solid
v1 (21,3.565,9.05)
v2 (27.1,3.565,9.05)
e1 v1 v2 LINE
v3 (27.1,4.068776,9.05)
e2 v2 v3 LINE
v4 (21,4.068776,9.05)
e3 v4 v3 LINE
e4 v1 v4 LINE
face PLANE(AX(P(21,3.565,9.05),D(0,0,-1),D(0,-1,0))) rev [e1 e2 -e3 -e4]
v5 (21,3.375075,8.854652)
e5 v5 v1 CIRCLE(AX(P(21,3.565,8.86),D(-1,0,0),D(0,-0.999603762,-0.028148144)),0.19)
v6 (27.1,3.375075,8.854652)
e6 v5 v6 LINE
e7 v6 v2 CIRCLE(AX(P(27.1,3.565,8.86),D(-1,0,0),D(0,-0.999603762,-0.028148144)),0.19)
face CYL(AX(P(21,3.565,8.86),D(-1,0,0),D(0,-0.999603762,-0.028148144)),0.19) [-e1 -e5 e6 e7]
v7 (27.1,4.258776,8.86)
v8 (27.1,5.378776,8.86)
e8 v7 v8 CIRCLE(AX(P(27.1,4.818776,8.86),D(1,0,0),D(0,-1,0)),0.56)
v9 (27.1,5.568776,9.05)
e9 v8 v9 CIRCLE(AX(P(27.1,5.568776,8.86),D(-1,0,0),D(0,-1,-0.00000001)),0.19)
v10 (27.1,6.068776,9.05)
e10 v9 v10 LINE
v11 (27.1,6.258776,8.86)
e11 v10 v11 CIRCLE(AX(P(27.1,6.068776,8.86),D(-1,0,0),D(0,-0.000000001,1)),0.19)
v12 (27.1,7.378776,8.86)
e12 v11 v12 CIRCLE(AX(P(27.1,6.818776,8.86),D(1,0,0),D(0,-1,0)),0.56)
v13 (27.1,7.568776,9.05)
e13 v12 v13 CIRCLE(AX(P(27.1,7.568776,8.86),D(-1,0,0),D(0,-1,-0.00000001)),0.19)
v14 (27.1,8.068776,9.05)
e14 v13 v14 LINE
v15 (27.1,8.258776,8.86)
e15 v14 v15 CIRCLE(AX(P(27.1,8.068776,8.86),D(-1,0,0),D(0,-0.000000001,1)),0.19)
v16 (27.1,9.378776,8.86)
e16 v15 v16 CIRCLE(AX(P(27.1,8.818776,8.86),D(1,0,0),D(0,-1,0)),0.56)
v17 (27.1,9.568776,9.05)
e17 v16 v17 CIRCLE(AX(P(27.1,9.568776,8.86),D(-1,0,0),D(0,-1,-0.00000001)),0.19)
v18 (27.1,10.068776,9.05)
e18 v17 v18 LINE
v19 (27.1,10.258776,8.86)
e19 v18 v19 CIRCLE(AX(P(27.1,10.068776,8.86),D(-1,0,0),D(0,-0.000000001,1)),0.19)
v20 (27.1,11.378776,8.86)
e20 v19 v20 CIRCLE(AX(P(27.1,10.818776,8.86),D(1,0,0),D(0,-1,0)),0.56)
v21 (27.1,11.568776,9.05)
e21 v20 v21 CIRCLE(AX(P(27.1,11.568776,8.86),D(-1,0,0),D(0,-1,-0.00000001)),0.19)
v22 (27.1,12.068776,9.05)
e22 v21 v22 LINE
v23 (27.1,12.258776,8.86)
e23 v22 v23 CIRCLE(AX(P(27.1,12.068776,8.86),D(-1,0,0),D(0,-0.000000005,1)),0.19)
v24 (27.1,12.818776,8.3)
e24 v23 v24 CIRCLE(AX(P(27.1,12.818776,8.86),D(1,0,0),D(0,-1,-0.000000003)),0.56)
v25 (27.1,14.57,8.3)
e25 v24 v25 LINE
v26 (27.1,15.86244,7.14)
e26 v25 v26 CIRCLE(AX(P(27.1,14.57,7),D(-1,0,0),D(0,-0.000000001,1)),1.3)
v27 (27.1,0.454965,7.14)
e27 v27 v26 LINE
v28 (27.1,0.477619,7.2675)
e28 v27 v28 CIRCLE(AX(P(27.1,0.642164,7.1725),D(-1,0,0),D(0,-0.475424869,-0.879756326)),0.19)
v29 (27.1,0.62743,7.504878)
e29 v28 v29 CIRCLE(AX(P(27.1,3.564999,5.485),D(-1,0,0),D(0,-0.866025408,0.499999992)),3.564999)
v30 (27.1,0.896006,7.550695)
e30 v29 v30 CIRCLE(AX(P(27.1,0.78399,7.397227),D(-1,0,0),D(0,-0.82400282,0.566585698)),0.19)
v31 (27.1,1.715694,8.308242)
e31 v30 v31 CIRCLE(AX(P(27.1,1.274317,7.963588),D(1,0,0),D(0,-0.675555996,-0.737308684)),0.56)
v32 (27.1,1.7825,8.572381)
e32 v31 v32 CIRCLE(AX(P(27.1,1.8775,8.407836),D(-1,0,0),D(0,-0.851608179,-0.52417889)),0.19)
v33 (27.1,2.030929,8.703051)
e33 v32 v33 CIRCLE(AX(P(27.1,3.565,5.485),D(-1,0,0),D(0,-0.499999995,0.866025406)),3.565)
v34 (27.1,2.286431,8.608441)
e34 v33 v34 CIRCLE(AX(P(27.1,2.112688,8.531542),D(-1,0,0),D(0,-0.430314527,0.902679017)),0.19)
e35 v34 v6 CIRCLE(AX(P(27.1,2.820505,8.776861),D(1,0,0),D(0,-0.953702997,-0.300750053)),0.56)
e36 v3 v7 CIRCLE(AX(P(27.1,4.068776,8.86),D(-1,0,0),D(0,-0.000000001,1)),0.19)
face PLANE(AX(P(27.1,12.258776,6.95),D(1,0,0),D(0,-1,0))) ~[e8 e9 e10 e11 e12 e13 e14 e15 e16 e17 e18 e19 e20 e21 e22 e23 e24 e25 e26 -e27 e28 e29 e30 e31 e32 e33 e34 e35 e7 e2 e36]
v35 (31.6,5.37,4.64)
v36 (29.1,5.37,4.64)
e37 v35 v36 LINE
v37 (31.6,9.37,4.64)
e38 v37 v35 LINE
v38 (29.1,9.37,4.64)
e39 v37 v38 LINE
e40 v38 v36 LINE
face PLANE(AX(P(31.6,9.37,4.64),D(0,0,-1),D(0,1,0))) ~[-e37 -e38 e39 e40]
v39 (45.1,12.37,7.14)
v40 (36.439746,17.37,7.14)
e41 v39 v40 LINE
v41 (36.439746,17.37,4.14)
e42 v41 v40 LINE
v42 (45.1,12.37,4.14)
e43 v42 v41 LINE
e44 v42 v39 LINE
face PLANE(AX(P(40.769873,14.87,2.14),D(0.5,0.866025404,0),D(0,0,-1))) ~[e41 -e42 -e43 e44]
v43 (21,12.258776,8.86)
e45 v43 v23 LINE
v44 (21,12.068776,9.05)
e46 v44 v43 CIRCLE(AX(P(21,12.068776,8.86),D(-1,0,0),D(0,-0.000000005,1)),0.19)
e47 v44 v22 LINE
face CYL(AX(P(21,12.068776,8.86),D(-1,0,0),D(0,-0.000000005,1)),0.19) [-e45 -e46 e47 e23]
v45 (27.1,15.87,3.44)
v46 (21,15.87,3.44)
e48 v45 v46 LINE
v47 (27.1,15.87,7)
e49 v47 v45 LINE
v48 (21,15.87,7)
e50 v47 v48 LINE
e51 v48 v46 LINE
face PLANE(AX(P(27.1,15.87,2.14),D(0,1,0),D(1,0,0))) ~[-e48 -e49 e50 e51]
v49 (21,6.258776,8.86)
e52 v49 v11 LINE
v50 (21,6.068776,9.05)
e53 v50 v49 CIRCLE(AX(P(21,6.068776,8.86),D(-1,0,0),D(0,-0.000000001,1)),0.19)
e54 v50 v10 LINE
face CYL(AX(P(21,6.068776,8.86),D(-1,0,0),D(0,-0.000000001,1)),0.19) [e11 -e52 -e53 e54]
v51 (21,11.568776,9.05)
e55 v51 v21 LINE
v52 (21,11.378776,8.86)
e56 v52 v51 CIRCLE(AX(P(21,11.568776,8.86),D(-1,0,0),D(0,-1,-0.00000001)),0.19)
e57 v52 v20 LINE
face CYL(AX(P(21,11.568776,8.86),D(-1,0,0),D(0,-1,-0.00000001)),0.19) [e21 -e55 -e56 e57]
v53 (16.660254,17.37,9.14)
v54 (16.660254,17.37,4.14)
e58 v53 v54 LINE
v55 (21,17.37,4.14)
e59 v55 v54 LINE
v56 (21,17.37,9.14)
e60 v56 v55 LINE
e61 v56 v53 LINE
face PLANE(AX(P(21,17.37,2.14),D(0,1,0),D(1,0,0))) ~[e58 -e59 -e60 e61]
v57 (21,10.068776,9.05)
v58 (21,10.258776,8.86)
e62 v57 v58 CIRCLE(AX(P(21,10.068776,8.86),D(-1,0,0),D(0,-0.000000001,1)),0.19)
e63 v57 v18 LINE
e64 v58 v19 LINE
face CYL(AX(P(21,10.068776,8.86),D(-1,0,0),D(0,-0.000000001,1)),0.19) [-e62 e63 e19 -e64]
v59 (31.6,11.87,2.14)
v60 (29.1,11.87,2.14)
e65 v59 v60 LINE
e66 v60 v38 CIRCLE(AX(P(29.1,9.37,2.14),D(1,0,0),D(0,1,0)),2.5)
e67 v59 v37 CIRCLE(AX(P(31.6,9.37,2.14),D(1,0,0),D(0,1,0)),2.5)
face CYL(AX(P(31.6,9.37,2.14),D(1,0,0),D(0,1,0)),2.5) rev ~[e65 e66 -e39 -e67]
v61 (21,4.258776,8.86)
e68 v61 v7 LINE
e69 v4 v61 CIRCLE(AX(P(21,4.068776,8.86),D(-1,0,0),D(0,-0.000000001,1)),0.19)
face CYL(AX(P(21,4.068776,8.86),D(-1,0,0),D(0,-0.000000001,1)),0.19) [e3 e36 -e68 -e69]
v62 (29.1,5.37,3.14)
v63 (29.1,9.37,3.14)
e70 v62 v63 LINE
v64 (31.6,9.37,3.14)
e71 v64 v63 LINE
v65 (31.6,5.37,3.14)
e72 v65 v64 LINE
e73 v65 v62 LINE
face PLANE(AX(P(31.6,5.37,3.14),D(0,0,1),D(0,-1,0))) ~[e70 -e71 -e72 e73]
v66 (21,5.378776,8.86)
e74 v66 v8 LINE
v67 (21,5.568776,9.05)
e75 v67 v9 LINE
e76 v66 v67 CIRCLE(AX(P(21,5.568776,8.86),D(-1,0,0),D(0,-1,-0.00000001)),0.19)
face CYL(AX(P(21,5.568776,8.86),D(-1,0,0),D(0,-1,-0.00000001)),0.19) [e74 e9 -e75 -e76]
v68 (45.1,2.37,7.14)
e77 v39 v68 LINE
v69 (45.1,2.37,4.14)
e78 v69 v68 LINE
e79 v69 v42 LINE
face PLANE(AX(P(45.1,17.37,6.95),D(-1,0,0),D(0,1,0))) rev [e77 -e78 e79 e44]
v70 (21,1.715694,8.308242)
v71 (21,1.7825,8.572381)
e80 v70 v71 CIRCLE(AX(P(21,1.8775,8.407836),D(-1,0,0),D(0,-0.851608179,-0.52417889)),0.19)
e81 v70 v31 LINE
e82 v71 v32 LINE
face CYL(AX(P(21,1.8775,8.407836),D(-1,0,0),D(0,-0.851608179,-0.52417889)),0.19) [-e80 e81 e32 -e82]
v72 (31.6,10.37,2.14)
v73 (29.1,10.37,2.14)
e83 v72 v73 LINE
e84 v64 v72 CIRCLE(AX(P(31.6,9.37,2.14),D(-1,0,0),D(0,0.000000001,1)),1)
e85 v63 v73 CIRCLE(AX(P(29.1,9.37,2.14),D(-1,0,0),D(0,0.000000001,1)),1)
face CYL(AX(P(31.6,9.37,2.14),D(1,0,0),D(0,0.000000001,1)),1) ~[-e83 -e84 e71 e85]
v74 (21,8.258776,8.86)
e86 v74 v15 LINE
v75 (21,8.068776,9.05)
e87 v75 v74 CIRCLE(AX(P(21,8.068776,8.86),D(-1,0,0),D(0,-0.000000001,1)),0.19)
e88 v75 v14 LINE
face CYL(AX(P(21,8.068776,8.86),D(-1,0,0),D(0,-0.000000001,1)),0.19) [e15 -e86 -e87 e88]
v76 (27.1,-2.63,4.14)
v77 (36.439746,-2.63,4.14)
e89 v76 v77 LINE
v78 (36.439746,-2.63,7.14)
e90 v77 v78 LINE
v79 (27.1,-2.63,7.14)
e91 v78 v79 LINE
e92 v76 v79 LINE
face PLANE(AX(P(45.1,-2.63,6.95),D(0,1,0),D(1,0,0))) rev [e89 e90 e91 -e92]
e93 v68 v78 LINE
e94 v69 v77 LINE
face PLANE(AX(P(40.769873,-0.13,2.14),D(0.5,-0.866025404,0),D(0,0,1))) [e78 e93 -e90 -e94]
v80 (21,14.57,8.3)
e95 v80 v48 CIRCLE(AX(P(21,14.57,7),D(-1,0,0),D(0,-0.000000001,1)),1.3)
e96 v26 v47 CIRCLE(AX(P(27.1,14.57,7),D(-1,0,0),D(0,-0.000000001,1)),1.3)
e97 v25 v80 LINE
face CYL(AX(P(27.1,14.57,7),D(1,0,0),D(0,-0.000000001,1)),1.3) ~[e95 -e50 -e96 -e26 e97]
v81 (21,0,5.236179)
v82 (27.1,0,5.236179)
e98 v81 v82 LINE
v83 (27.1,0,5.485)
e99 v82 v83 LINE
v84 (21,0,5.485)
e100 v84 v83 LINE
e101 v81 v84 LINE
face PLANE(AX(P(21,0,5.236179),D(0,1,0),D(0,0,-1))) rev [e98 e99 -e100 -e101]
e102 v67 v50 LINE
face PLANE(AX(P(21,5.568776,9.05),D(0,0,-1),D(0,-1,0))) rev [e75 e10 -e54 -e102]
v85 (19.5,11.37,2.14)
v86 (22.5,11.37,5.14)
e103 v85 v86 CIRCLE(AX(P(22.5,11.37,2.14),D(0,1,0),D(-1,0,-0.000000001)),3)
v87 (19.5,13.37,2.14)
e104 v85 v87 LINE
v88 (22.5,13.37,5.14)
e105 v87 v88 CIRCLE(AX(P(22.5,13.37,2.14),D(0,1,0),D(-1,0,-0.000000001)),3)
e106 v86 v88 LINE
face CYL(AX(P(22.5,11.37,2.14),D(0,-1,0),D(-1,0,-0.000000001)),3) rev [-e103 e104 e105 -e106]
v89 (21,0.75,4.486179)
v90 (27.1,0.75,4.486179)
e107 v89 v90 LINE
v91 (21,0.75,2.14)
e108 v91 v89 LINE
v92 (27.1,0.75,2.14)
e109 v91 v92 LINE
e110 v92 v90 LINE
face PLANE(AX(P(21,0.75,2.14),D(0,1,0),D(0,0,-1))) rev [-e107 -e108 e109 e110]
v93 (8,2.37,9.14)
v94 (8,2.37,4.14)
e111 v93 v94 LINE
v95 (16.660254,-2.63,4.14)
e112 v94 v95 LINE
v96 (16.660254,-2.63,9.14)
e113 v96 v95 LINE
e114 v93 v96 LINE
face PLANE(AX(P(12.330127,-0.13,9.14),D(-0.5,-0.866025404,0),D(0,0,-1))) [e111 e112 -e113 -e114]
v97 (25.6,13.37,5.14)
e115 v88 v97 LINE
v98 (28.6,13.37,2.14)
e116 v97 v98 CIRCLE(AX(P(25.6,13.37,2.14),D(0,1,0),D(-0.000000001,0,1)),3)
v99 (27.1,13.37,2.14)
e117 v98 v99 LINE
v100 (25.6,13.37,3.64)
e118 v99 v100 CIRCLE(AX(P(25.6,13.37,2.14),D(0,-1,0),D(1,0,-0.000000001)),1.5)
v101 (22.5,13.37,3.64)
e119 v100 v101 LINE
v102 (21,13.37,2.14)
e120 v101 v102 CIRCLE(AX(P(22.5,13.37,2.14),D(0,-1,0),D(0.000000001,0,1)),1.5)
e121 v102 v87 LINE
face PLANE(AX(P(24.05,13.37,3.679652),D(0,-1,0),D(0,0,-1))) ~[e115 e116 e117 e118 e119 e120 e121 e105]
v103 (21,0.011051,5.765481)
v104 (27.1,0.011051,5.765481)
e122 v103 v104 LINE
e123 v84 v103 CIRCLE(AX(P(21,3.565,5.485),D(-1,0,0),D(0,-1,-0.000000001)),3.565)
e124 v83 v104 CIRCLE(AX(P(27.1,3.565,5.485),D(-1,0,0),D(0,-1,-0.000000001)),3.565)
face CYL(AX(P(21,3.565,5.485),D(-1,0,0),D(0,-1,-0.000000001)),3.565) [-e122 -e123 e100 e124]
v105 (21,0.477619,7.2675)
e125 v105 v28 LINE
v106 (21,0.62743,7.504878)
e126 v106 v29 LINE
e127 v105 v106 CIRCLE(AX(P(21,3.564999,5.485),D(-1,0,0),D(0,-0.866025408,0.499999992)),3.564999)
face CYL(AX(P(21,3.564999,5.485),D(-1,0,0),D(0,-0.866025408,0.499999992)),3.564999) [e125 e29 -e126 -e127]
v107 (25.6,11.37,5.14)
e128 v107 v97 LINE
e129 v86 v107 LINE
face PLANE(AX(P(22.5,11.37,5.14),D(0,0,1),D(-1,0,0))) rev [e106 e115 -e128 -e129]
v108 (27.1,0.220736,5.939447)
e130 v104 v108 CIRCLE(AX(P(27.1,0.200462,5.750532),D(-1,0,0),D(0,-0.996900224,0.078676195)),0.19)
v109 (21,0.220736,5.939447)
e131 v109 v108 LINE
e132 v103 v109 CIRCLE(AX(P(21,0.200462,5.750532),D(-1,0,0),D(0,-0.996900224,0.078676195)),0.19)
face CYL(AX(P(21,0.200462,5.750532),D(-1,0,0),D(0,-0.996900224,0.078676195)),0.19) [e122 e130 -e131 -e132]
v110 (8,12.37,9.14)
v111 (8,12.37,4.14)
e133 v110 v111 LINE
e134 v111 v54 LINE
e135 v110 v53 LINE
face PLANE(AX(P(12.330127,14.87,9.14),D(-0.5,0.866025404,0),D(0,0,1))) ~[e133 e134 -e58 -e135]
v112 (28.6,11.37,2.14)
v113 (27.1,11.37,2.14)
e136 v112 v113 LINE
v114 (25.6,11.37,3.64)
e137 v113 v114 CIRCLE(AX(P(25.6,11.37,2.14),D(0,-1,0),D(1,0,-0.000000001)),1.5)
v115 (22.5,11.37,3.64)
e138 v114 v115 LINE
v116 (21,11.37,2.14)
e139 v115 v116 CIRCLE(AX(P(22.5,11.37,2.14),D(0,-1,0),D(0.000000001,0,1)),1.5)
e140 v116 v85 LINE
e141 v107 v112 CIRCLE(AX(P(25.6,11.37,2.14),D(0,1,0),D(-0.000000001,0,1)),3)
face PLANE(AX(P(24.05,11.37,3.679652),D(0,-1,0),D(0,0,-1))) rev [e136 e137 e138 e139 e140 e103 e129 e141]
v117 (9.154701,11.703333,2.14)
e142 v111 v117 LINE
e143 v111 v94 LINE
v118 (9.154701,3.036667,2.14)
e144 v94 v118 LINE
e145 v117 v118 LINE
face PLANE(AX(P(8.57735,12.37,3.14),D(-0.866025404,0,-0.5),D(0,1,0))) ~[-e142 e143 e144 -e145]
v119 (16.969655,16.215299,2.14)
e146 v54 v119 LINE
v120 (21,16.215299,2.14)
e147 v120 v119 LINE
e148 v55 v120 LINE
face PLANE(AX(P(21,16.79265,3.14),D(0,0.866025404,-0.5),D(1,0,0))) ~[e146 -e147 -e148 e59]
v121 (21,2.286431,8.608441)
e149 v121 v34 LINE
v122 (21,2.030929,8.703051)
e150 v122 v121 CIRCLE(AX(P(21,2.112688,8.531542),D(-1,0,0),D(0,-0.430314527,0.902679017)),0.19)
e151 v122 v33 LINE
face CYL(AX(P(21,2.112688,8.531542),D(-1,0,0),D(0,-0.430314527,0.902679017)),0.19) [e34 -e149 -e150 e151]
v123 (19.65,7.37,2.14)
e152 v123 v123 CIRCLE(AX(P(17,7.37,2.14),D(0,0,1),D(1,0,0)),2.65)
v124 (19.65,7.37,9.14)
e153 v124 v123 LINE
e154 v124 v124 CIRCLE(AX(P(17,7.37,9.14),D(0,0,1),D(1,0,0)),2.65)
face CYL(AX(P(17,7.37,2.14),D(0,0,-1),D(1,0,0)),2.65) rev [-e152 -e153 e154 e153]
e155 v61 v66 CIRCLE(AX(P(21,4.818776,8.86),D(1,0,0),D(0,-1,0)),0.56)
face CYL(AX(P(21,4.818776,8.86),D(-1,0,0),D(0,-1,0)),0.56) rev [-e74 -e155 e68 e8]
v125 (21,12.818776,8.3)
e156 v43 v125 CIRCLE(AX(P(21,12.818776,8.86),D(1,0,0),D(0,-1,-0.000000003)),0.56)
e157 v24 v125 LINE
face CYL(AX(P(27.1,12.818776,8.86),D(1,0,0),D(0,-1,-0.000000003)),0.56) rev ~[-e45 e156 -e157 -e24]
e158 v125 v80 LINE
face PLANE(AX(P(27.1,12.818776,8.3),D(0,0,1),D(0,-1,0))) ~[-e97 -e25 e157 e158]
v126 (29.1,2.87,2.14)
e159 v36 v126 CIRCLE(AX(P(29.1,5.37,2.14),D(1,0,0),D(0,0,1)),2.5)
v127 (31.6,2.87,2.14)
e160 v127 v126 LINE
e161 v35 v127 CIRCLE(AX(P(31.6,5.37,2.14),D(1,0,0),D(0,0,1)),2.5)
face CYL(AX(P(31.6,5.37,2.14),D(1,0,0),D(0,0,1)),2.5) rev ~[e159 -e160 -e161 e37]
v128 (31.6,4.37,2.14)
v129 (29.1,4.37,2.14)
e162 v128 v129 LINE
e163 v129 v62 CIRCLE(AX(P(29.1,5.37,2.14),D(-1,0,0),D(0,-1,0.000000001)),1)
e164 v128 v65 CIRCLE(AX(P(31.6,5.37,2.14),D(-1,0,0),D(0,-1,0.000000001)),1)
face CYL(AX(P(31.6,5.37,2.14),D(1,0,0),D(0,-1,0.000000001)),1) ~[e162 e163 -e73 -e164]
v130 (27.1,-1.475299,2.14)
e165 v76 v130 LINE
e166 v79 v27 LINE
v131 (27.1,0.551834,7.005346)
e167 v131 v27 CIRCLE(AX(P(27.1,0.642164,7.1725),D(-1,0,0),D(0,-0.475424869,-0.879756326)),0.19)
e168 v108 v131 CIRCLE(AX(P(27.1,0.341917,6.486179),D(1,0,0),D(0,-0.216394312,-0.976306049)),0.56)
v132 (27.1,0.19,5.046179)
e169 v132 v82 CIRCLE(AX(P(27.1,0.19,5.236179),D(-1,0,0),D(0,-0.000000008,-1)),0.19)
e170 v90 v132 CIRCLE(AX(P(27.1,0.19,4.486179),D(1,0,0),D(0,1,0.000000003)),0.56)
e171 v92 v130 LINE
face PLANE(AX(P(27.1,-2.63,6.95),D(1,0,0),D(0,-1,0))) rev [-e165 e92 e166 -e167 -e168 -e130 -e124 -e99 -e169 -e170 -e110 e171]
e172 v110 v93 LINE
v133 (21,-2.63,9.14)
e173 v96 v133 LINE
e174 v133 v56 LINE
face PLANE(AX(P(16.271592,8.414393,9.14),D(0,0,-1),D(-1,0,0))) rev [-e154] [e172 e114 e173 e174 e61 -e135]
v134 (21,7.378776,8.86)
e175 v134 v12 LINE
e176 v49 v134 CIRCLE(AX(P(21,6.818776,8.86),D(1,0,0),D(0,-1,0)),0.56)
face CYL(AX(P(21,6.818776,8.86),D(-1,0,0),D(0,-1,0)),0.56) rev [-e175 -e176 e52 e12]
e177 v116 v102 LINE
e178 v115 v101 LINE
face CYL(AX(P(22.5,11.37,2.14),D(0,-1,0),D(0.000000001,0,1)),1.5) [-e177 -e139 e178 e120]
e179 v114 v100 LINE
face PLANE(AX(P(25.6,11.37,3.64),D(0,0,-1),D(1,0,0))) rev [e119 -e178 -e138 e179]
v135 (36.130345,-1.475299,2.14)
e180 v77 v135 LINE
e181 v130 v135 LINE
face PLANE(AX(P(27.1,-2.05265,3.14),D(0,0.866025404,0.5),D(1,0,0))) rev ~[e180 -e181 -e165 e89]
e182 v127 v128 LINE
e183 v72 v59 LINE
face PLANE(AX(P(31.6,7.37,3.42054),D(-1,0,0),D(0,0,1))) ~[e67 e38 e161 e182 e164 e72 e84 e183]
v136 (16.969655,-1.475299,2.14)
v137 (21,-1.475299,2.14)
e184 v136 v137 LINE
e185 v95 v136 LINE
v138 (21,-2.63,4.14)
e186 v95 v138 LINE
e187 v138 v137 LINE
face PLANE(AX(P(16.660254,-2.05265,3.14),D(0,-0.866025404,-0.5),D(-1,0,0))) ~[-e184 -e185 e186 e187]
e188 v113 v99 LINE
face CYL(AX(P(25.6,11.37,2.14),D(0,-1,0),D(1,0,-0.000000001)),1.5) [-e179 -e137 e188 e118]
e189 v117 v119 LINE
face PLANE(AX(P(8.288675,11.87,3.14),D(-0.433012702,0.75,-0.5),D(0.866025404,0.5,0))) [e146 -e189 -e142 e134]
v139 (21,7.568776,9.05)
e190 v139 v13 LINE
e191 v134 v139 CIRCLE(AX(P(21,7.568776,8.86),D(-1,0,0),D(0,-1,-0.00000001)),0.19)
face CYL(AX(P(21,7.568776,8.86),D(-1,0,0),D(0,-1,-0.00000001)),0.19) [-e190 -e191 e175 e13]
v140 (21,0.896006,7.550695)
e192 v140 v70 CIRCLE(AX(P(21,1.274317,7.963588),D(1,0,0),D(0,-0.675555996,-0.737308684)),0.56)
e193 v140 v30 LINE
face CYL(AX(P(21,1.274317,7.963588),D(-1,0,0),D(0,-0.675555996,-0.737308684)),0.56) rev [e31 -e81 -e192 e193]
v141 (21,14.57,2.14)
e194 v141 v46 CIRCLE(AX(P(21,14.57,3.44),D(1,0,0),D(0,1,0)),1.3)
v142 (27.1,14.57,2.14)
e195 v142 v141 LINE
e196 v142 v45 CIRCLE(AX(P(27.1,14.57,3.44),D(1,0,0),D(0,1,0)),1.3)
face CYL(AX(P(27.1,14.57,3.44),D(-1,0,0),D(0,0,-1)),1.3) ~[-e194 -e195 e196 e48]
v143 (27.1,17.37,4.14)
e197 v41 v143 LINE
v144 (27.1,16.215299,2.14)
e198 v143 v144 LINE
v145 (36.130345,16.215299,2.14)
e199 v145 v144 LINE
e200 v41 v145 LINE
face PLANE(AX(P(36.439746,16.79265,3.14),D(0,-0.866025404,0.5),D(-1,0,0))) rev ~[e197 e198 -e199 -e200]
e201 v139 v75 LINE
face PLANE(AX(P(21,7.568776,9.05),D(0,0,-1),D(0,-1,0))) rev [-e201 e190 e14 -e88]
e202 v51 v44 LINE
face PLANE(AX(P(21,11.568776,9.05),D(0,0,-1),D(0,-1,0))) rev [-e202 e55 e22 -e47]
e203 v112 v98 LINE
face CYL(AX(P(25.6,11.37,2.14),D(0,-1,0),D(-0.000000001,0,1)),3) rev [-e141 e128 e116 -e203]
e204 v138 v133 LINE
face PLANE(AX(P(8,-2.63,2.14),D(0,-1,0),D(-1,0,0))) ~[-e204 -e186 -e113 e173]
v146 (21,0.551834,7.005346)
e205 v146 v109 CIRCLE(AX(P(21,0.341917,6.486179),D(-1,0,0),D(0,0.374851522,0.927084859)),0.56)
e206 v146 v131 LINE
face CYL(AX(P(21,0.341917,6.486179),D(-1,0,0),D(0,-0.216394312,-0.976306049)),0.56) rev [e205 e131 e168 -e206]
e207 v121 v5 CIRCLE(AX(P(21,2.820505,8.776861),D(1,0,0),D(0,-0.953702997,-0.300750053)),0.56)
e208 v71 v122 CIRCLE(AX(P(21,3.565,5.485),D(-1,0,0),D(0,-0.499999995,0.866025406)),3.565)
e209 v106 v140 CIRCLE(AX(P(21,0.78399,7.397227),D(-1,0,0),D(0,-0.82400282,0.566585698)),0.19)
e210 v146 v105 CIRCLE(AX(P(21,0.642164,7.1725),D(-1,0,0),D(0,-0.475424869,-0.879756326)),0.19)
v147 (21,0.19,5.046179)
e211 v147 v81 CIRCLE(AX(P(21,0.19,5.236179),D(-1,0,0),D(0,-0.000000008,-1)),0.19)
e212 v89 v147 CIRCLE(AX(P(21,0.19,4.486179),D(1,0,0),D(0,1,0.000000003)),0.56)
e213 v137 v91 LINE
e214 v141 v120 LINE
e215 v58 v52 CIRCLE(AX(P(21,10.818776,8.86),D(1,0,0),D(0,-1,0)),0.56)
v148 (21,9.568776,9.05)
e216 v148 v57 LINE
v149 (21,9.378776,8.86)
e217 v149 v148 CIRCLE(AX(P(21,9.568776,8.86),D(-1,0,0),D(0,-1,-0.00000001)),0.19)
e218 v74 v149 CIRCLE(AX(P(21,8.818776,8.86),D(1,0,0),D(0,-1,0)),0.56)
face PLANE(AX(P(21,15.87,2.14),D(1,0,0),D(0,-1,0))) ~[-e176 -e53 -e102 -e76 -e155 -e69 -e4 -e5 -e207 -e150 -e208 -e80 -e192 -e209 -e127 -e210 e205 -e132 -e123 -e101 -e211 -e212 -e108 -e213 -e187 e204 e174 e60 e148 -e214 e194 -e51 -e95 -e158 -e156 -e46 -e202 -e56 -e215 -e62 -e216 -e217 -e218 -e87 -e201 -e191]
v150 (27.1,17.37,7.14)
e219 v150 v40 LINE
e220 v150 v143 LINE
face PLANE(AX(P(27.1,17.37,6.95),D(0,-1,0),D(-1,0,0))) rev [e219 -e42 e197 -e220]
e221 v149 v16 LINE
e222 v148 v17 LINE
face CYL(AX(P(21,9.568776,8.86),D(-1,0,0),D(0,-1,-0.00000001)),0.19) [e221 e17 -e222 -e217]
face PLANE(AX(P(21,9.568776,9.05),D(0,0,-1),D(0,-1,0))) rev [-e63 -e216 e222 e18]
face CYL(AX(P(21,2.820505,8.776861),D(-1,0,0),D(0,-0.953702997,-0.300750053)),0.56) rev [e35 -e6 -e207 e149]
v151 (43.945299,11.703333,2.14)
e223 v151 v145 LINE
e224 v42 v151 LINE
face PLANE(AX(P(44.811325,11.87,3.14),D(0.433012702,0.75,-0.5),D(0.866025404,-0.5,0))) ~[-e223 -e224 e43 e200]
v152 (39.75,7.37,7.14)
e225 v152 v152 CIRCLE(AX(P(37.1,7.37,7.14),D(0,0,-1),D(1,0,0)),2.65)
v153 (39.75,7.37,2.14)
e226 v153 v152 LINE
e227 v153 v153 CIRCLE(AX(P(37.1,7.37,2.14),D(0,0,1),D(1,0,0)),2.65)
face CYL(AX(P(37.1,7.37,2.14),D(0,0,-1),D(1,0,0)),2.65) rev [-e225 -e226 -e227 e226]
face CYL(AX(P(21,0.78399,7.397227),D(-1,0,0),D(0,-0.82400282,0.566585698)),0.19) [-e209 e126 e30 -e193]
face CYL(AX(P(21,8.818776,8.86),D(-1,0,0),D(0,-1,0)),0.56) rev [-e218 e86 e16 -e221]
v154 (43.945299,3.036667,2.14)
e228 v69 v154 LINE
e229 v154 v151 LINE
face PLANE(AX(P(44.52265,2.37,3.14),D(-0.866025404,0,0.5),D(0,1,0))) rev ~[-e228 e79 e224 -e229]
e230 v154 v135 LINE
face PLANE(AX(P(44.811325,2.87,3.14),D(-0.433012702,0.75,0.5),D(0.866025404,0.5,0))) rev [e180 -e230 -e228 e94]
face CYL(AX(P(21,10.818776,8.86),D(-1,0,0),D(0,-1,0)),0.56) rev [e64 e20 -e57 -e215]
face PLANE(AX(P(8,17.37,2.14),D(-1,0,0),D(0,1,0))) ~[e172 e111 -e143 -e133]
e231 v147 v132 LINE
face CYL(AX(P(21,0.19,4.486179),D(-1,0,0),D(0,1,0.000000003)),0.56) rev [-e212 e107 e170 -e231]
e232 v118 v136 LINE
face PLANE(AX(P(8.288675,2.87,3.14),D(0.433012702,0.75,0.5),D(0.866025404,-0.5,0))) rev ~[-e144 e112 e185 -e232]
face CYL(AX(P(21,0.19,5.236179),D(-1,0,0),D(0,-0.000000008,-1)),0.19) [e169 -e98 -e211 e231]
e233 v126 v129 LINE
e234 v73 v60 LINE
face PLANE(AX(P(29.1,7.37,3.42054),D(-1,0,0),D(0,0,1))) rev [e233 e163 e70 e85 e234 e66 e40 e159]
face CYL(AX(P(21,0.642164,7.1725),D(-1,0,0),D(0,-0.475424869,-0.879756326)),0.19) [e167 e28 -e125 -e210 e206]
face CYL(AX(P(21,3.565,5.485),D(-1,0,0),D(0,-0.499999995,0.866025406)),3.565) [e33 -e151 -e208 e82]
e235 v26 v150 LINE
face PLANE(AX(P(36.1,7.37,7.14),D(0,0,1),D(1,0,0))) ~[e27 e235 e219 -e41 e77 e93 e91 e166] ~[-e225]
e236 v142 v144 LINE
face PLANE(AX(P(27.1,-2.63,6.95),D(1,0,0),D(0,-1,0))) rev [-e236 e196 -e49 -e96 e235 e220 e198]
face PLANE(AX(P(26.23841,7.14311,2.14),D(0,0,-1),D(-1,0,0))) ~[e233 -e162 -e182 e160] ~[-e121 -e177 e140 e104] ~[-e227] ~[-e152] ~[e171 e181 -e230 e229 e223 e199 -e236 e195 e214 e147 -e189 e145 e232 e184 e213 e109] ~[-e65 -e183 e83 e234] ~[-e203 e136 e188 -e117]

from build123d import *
from OCP.BRepFilletAPI import BRepFilletAPI_MakeChamfer

# Parameters (mm, degrees)
AUFSATZ_LINEAR_AUSTRAGEN1_DEPTH    = 6.1
SKIZZE1_W                          = 6
SKIZZE1_H                          = 15
AUFSATZ_LINEAR_AUSTRAGEN1_2_DEPTH  = 6.1
SKIZZE2_W                          = 6
SKIZZE2_H                          = 15
SCHNITT_LINEAR_AUSTRAGEN1_DEPTH    = 6.1
SKIZZE3_R                          = 2.65
AUFSATZ_LINEAR_AUSTRAGEN2_DEPTH    = 2.19
SCHNITT_LINEAR_AUSTRAGEN7_DEPTH    = 6.1
AUFSATZ_LINEAR_START               = 4.81
SKIZZE4_R                          = 2.65
AUFSATZ_LINEAR_AUSTRAGEN3_DEPTH    = 4.81
SKIZZE5_R                          = 2.65
AUFSATZ_LINEAR_AUSTRAGEN4_DEPTH    = 0.19
FASE1_SIZE                         = 5
FASE1_SIZE2                        = 8.660254038
FASE2_SIZE                         = 2
FASE2_SIZE2                        = 1.154700538
SCHNITT_LINEAR_START               = -14
SCHNITT_LINEAR_AUSTRAGEN8_DEPTH    = 2
SCHNITT_LINEAR_START_2             = -13.5
SCHNITT_LINEAR_AUSTRAGEN5_DEPTH    = 2.5
VERRUNDUNG1_R                      = 1.3
K_RPER_VERSCHIEBEN_KOPIEREN1_ANGLE = 90


with BuildPart() as part:
    # Skizze1 → Aufsatz-Linear austragen1 (new body)
    with BuildSketch(Plane.XY):
        with BuildLine():
            Line((-7.050000002, 7.568775844), (-7.050000002, 8.068775844))
            ThreePointArc((-7.050000002, 8.068775844), (-7.105649713, 8.203126132), (-7.240000002, 8.258775844))
            ThreePointArc((-7.240000002, 8.258775844), (-7.800000002, 8.818775844), (-7.240000002, 9.378775844))
            ThreePointArc((-7.240000002, 9.378775844), (-7.105649713, 9.434425555), (-7.050000002, 9.568775844))
            Line((-7.050000002, 9.568775844), (-7.050000002, 10.068775844))
            ThreePointArc((-7.050000002, 10.068775844), (-7.105649713, 10.203126132), (-7.240000002, 10.258775844))
            ThreePointArc((-7.240000002, 10.258775844), (-7.800000002, 10.818775844), (-7.240000002, 11.378775844))
            ThreePointArc((-7.240000002, 11.378775844), (-7.105649713, 11.434425555), (-7.050000002, 11.568775844))
            Line((-7.050000002, 11.568775844), (-7.050000002, 12.068775844))
            ThreePointArc((-7.050000002, 12.068775844), (-7.105649713, 12.203126132), (-7.240000002, 12.258775843))
            Line((-7.240000002, 12.258775843), (-9.150000002, 12.258775843))
            Line((-9.150000002, 12.258775843), (-9.150000002, 4))
            Line((-9.150000002, 4), (-10.615000002, 4))
            Line((-10.615000002, 4), (-13.960000002, 4))
            Line((-13.960000002, 4), (-13.960000002, 0.75))
            Line((-13.960000002, 0.75), (-11.613821225, 0.75))
            ThreePointArc((-11.613821225, 0.75), (-11.217841428, 0.585979797), (-11.053821225, 0.19))
            ThreePointArc((-11.053821225, 0.19), (-10.998171513, 0.055649712), (-10.863821225, 0))
            Line((-10.863821225, 0), (-10.615000002, 0))
            ThreePointArc((-10.615000002, 0), (-10.474650873, 0.002763747), (-10.334519354, 0.011050703))
            ThreePointArc((-10.334519354, 0.011050703), (-10.203241743, 0.079144265), (-10.160552613, 0.22073587))
            ThreePointArc((-10.160552613, 0.22073587), (-9.779942741, 0.876709768), (-9.094653704, 0.551833537))
            ThreePointArc((-9.094653704, 0.551833537), (-8.979253962, 0.459348706), (-8.832500002, 0.477619436))
            ThreePointArc((-8.832500002, 0.477619436), (-8.712335964, 0.550187475), (-8.595121987, 0.627429949))
            ThreePointArc((-8.595121987, 0.627429949), (-8.515479022, 0.752039509), (-8.549304953, 0.896006001))
            ThreePointArc((-8.549304953, 0.896006001), (-8.547674084, 1.654400997), (-7.791758254, 1.715694446))
            ThreePointArc((-7.791758254, 1.715694446), (-7.64557673, 1.693300104), (-7.527619437, 1.7825))
            ThreePointArc((-7.527619437, 1.7825), (-7.459838348, 1.905427785), (-7.396949303, 2.030928718))
            ThreePointArc((-7.396949303, 2.030928718), (-7.390281252, 2.178665245), (-7.491558614, 2.286430919))
            ThreePointArc((-7.491558614, 2.286430919), (-7.869343738, 2.944035686), (-7.24534815, 3.375075285))
            ThreePointArc((-7.24534815, 3.375075285), (-7.107554066, 3.428771978), (-7.050000002, 3.565))
            Line((-7.050000002, 3.565), (-7.050000002, 4.068775844))
            ThreePointArc((-7.050000002, 4.068775844), (-7.105649713, 4.203126132), (-7.240000002, 4.258775844))
            ThreePointArc((-7.240000002, 4.258775844), (-7.800000002, 4.818775844), (-7.240000002, 5.378775844))
            ThreePointArc((-7.240000002, 5.378775844), (-7.105649713, 5.434425555), (-7.050000002, 5.568775844))
            Line((-7.050000002, 5.568775844), (-7.050000002, 6.068775844))
            ThreePointArc((-7.050000002, 6.068775844), (-7.105649713, 6.203126132), (-7.240000002, 6.258775844))
            ThreePointArc((-7.240000002, 6.258775844), (-7.800000002, 6.818775844), (-7.240000002, 7.378775844))
            ThreePointArc((-7.240000002, 7.378775844), (-7.105649713, 7.434425555), (-7.050000002, 7.568775844))
        make_face()
    extrude(amount=AUFSATZ_LINEAR_AUSTRAGEN1_DEPTH)

    # Skizze3 → Aufsatz-Linear austragen2 (add)
    with BuildSketch(Plane.ZY.offset(9.150000002)):
        Polygon((6.1, 12.258775843), (6.1, 15.87), (0, 15.87), (0, 17.37), (-13, 17.37), (-13, -2.63), (0, -2.63), (0, 12.258775843), align=None)
        with Locations((-4, 7.37)):
            Circle(SKIZZE3_R, mode=Mode.SUBTRACT)
    extrude(amount=-AUFSATZ_LINEAR_AUSTRAGEN2_DEPTH)

    # Skizze15 → Schnitt-Linear austragen7 (cut)
    with BuildSketch(Plane.XY.offset(6.1)):
        with BuildLine():
            Line((-7.800000002, 12.818775843), (-7.800000002, 14.57))
            ThreePointArc((-7.800000002, 14.57), (-8.180761186, 15.489238816), (-9.100000002, 15.87))
            Line((-9.100000002, 15.87), (-6.960000002, 15.87))
            Line((-6.960000002, 15.87), (-6.960000002, 12.258775843))
            Line((-6.960000002, 12.258775843), (-7.240000002, 12.258775843))
            ThreePointArc((-7.240000002, 12.258775843), (-7.635979799, 12.422796046), (-7.800000002, 12.818775843))
        make_face()
    extrude(amount=-SCHNITT_LINEAR_AUSTRAGEN7_DEPTH, mode=Mode.SUBTRACT)

    # Skizze4 → Aufsatz-Linear austragen3 (add)
    with BuildSketch(Plane.ZY.offset(9.150000002).offset(AUFSATZ_LINEAR_START)):
        Polygon((6.1, 17.37), (6.1, 15.87), (0, 15.87), (0, 17.37), (-13, 17.37), (-13, -2.63), (0, -2.63), (0, 4), (6.1, 4), (6.1, -2.63), (24.1, -2.63), (24.1, 17.37), align=None)
        with Locations((16.1, 7.37)):
            Circle(SKIZZE4_R, mode=Mode.SUBTRACT)
        with Locations((-4, 7.37)):
            Circle(SKIZZE4_R, mode=Mode.SUBTRACT)
    extrude(amount=-AUFSATZ_LINEAR_AUSTRAGEN3_DEPTH)

    # Skizze5 → Aufsatz-Linear austragen4 (add)
    with BuildSketch(Plane(origin=(-9.150000002, 0, 0), x_dir=(0, 0, -1), z_dir=(1, 0, 0))):
        Polygon((-6.1, 17.37), (-24.1, 17.37), (-24.1, -2.63), (-6.1, -2.63), (-6.1, 0.655715781), (-6.1, 15.87), align=None)
        with Locations(Location((-16.1, 7.37, 0), (0, 0, 180))):
            Circle(SKIZZE5_R, mode=Mode.SUBTRACT)
    extrude(amount=AUFSATZ_LINEAR_AUSTRAGEN4_DEPTH)

    # Fase1: one chamfer whose edges measure the first distance from different faces: ONE call of the kernel's chamfer builder (chamfer() names one face for all edges)
    fase1_edges_1 = [part.edges().sort_by_distance(p)[0] for p in [
        (-10.460000002, -2.63, -13),
        (-10.460000002, 17.37, -13),
    ]]
    fase1_side_1 = [part.faces().sort_by_distance(p)[0] for p in [
        (-10.460000002, 7.37, -13),
    ]]
    fase1_edges_2 = [part.edges().sort_by_distance(p)[0] for p in [
        (-11.460000002, 17.37, 24.1),
        (-11.460000002, -2.63, 24.1),
    ]]
    fase1_side_2 = [part.faces().sort_by_distance(p)[0] for p in [
        (-11.460000002, 7.37, 24.1),
    ]]
    fase1 = BRepFilletAPI_MakeChamfer(part.part.solid().wrapped)
    for e in fase1_edges_1:
        fase1.Add(FASE1_SIZE, FASE1_SIZE2, e.wrapped, fase1_side_1[0].wrapped)  # the first distance lies on this face
    for e in fase1_edges_2:
        fase1.Add(FASE1_SIZE, FASE1_SIZE2, e.wrapped, fase1_side_2[0].wrapped)  # the first distance lies on this face
    add(Compound.cast(fase1.Shape()), mode=Mode.REPLACE)

    # Fase2: one chamfer whose edges measure the first distance from different faces: ONE call of the kernel's chamfer builder (chamfer() names one face for all edges)
    fase2_edges_1 = [part.edges().sort_by_distance(p)[0] for p in [
        (-13.960000002, 17.37, 10.769872981),
    ]]
    fase2_side_1 = [part.faces().sort_by_distance(p)[0] for p in [
        (-11.460000002, 17.37, 10.769872981),
    ]]
    fase2_edges_2 = [part.edges().sort_by_distance(p)[0] for p in [
        (-13.960000002, 17.37, -2.169872981),
    ]]
    fase2_side_2 = [part.faces().sort_by_distance(p)[0] for p in [
        (-10.460000002, 17.37, -2.169872981),
    ]]
    fase2_edges_3 = [part.edges().sort_by_distance(p)[0] for p in [
        (-13.960000002, -2.63, 10.769872981),
    ]]
    fase2_side_3 = [part.faces().sort_by_distance(p)[0] for p in [
        (-11.460000002, -2.63, 10.769872981),
    ]]
    fase2_edges_4 = [part.edges().sort_by_distance(p)[0] for p in [
        (-13.960000002, 7.37, 24.1),
    ]]
    fase2_side_4 = [part.faces().sort_by_distance(p)[0] for p in [
        (-11.460000002, 7.37, 24.1),
    ]]
    fase2_edges_5 = [part.edges().sort_by_distance(p)[0] for p in [
        (-13.960000002, 7.37, -13),
    ]]
    fase2_side_5 = [part.faces().sort_by_distance(p)[0] for p in [
        (-10.460000002, 7.37, -13),
    ]]
    fase2_edges_6 = [part.edges().sort_by_distance(p)[0] for p in [
        (-13.960000002, -2.63, -2.169872981),
    ]]
    fase2_side_6 = [part.faces().sort_by_distance(p)[0] for p in [
        (-10.460000002, -2.63, -2.169872981),
    ]]
    fase2_edges_7 = [part.edges().sort_by_distance(p)[0] for p in [
        (-13.960000002, -0.13, -8.669872981),
    ]]
    fase2_side_7 = [part.faces().sort_by_distance(p)[0] for p in [
        (-10.460000002, -0.13, -8.669872981),
    ]]
    fase2_edges_8 = [part.edges().sort_by_distance(p)[0] for p in [
        (-13.960000002, -0.13, 19.769872981),
    ]]
    fase2_side_8 = [part.faces().sort_by_distance(p)[0] for p in [
        (-11.460000002, -0.13, 19.769872981),
    ]]
    fase2_edges_9 = [part.edges().sort_by_distance(p)[0] for p in [
        (-13.960000002, 14.87, -8.669872981),
    ]]
    fase2_side_9 = [part.faces().sort_by_distance(p)[0] for p in [
        (-10.460000002, 14.87, -8.669872981),
    ]]
    fase2_edges_10 = [part.edges().sort_by_distance(p)[0] for p in [
        (-13.960000002, 14.87, 19.769872981),
    ]]
    fase2_side_10 = [part.faces().sort_by_distance(p)[0] for p in [
        (-11.460000002, 14.87, 19.769872981),
    ]]
    fase2 = BRepFilletAPI_MakeChamfer(part.part.solid().wrapped)
    for e in fase2_edges_1:
        fase2.Add(FASE2_SIZE, FASE2_SIZE2, e.wrapped, fase2_side_1[0].wrapped)  # the first distance lies on this face
    for e in fase2_edges_2:
        fase2.Add(FASE2_SIZE, FASE2_SIZE2, e.wrapped, fase2_side_2[0].wrapped)  # the first distance lies on this face
    for e in fase2_edges_3:
        fase2.Add(FASE2_SIZE, FASE2_SIZE2, e.wrapped, fase2_side_3[0].wrapped)  # the first distance lies on this face
    for e in fase2_edges_4:
        fase2.Add(FASE2_SIZE, FASE2_SIZE2, e.wrapped, fase2_side_4[0].wrapped)  # the first distance lies on this face
    for e in fase2_edges_5:
        fase2.Add(FASE2_SIZE, FASE2_SIZE2, e.wrapped, fase2_side_5[0].wrapped)  # the first distance lies on this face
    for e in fase2_edges_6:
        fase2.Add(FASE2_SIZE, FASE2_SIZE2, e.wrapped, fase2_side_6[0].wrapped)  # the first distance lies on this face
    for e in fase2_edges_7:
        fase2.Add(FASE2_SIZE, FASE2_SIZE2, e.wrapped, fase2_side_7[0].wrapped)  # the first distance lies on this face
    for e in fase2_edges_8:
        fase2.Add(FASE2_SIZE, FASE2_SIZE2, e.wrapped, fase2_side_8[0].wrapped)  # the first distance lies on this face
    for e in fase2_edges_9:
        fase2.Add(FASE2_SIZE, FASE2_SIZE2, e.wrapped, fase2_side_9[0].wrapped)  # the first distance lies on this face
    for e in fase2_edges_10:
        fase2.Add(FASE2_SIZE, FASE2_SIZE2, e.wrapped, fase2_side_10[0].wrapped)  # the first distance lies on this face
    add(Compound.cast(fase2.Shape()), mode=Mode.REPLACE)

    # Skizze11 → Schnitt-Linear austragen8 (cut)
    with BuildSketch(Plane.XZ.offset(2.63).offset(SCHNITT_LINEAR_START)):
        with BuildLine():
            Line((-13.960000002, 7.6), (-13.960000002, 6.1))
            ThreePointArc((-13.960000002, 6.1), (-12.89933983, 5.660660172), (-12.460000002, 4.6))
            Line((-12.460000002, 4.6), (-12.460000002, 1.5))
            ThreePointArc((-12.460000002, 1.5), (-12.89933983, 0.439339828), (-13.960000002, 0))
            Line((-13.960000002, 0), (-13.960000002, -1.5))
            ThreePointArc((-13.960000002, -1.5), (-11.838679658, -0.621320344), (-10.960000002, 1.5))
            Line((-10.960000002, 1.5), (-10.960000002, 4.6))
            ThreePointArc((-10.960000002, 4.6), (-11.838679658, 6.721320344), (-13.960000002, 7.6))
        make_face()
    extrude(amount=-SCHNITT_LINEAR_AUSTRAGEN8_DEPTH, mode=Mode.SUBTRACT)

    # Skizze13 → Schnitt-Linear austragen5 (cut)
    with BuildSketch(Plane.XY.offset(24.1).offset(SCHNITT_LINEAR_START_2)):
        with BuildLine():
            Line((-12.960000002, 5.37), (-12.960000002, 9.37))
            ThreePointArc((-12.960000002, 9.37), (-13.252893221, 10.077106781), (-13.960000002, 10.37))
            Line((-13.960000002, 10.37), (-13.960000002, 11.87))
            ThreePointArc((-13.960000002, 11.87), (-12.192233049, 11.137766953), (-11.460000002, 9.37))
            Line((-11.460000002, 9.37), (-11.460000002, 5.37))
            ThreePointArc((-11.460000002, 5.37), (-12.192233049, 3.602233047), (-13.960000002, 2.87))
            Line((-13.960000002, 2.87), (-13.960000002, 4.37))
            ThreePointArc((-13.960000002, 4.37), (-13.252893221, 4.662893219), (-12.960000002, 5.37))
        make_face()
    extrude(amount=-SCHNITT_LINEAR_AUSTRAGEN5_DEPTH, mode=Mode.SUBTRACT)

    # Verrundung1
    verrundung1_edges = [part.edges().sort_by_distance(p)[0] for p in [
        (-13.960000002, 15.87, 3.05),
    ]]
    fillet(verrundung1_edges, radius=VERRUNDUNG1_R)


with BuildPart() as body_2:
    # Skizze1 → Aufsatz-Linear austragen1 2 (new body)
    with BuildSketch(Plane.XY):
        with Locations((-3, 7.5)):
            Rectangle(SKIZZE1_W, SKIZZE1_H)
    extrude(amount=AUFSATZ_LINEAR_AUSTRAGEN1_2_DEPTH)

    # Skizze2 → Schnitt-Linear austragen1 (cut)
    with BuildSketch(Plane.XY.offset(6.1)):
        with Locations((-3, 7.5)):
            Rectangle(SKIZZE2_W, SKIZZE2_H)
    extrude(amount=-SCHNITT_LINEAR_AUSTRAGEN1_DEPTH, mode=Mode.SUBTRACT)


with BuildPart() as body_2_2:
    # Spiegeln1: mirrored copy
    add(part.part.mirror(Plane(origin=(-6.960000002, -14.282117533, -13), x_dir=(1, 0, 0), z_dir=(0, 0, 1))))


with BuildPart() as body_2_2_1:
    # Körper-Verschieben/Kopieren1: moved
    add(body_2_2.part.rotate(Axis((-10.55, 0, 5.55), (0, -1, 0)), K_RPER_VERSCHIEBEN_KOPIEREN1_ANGLE))


solid = body_2_2_1.part
